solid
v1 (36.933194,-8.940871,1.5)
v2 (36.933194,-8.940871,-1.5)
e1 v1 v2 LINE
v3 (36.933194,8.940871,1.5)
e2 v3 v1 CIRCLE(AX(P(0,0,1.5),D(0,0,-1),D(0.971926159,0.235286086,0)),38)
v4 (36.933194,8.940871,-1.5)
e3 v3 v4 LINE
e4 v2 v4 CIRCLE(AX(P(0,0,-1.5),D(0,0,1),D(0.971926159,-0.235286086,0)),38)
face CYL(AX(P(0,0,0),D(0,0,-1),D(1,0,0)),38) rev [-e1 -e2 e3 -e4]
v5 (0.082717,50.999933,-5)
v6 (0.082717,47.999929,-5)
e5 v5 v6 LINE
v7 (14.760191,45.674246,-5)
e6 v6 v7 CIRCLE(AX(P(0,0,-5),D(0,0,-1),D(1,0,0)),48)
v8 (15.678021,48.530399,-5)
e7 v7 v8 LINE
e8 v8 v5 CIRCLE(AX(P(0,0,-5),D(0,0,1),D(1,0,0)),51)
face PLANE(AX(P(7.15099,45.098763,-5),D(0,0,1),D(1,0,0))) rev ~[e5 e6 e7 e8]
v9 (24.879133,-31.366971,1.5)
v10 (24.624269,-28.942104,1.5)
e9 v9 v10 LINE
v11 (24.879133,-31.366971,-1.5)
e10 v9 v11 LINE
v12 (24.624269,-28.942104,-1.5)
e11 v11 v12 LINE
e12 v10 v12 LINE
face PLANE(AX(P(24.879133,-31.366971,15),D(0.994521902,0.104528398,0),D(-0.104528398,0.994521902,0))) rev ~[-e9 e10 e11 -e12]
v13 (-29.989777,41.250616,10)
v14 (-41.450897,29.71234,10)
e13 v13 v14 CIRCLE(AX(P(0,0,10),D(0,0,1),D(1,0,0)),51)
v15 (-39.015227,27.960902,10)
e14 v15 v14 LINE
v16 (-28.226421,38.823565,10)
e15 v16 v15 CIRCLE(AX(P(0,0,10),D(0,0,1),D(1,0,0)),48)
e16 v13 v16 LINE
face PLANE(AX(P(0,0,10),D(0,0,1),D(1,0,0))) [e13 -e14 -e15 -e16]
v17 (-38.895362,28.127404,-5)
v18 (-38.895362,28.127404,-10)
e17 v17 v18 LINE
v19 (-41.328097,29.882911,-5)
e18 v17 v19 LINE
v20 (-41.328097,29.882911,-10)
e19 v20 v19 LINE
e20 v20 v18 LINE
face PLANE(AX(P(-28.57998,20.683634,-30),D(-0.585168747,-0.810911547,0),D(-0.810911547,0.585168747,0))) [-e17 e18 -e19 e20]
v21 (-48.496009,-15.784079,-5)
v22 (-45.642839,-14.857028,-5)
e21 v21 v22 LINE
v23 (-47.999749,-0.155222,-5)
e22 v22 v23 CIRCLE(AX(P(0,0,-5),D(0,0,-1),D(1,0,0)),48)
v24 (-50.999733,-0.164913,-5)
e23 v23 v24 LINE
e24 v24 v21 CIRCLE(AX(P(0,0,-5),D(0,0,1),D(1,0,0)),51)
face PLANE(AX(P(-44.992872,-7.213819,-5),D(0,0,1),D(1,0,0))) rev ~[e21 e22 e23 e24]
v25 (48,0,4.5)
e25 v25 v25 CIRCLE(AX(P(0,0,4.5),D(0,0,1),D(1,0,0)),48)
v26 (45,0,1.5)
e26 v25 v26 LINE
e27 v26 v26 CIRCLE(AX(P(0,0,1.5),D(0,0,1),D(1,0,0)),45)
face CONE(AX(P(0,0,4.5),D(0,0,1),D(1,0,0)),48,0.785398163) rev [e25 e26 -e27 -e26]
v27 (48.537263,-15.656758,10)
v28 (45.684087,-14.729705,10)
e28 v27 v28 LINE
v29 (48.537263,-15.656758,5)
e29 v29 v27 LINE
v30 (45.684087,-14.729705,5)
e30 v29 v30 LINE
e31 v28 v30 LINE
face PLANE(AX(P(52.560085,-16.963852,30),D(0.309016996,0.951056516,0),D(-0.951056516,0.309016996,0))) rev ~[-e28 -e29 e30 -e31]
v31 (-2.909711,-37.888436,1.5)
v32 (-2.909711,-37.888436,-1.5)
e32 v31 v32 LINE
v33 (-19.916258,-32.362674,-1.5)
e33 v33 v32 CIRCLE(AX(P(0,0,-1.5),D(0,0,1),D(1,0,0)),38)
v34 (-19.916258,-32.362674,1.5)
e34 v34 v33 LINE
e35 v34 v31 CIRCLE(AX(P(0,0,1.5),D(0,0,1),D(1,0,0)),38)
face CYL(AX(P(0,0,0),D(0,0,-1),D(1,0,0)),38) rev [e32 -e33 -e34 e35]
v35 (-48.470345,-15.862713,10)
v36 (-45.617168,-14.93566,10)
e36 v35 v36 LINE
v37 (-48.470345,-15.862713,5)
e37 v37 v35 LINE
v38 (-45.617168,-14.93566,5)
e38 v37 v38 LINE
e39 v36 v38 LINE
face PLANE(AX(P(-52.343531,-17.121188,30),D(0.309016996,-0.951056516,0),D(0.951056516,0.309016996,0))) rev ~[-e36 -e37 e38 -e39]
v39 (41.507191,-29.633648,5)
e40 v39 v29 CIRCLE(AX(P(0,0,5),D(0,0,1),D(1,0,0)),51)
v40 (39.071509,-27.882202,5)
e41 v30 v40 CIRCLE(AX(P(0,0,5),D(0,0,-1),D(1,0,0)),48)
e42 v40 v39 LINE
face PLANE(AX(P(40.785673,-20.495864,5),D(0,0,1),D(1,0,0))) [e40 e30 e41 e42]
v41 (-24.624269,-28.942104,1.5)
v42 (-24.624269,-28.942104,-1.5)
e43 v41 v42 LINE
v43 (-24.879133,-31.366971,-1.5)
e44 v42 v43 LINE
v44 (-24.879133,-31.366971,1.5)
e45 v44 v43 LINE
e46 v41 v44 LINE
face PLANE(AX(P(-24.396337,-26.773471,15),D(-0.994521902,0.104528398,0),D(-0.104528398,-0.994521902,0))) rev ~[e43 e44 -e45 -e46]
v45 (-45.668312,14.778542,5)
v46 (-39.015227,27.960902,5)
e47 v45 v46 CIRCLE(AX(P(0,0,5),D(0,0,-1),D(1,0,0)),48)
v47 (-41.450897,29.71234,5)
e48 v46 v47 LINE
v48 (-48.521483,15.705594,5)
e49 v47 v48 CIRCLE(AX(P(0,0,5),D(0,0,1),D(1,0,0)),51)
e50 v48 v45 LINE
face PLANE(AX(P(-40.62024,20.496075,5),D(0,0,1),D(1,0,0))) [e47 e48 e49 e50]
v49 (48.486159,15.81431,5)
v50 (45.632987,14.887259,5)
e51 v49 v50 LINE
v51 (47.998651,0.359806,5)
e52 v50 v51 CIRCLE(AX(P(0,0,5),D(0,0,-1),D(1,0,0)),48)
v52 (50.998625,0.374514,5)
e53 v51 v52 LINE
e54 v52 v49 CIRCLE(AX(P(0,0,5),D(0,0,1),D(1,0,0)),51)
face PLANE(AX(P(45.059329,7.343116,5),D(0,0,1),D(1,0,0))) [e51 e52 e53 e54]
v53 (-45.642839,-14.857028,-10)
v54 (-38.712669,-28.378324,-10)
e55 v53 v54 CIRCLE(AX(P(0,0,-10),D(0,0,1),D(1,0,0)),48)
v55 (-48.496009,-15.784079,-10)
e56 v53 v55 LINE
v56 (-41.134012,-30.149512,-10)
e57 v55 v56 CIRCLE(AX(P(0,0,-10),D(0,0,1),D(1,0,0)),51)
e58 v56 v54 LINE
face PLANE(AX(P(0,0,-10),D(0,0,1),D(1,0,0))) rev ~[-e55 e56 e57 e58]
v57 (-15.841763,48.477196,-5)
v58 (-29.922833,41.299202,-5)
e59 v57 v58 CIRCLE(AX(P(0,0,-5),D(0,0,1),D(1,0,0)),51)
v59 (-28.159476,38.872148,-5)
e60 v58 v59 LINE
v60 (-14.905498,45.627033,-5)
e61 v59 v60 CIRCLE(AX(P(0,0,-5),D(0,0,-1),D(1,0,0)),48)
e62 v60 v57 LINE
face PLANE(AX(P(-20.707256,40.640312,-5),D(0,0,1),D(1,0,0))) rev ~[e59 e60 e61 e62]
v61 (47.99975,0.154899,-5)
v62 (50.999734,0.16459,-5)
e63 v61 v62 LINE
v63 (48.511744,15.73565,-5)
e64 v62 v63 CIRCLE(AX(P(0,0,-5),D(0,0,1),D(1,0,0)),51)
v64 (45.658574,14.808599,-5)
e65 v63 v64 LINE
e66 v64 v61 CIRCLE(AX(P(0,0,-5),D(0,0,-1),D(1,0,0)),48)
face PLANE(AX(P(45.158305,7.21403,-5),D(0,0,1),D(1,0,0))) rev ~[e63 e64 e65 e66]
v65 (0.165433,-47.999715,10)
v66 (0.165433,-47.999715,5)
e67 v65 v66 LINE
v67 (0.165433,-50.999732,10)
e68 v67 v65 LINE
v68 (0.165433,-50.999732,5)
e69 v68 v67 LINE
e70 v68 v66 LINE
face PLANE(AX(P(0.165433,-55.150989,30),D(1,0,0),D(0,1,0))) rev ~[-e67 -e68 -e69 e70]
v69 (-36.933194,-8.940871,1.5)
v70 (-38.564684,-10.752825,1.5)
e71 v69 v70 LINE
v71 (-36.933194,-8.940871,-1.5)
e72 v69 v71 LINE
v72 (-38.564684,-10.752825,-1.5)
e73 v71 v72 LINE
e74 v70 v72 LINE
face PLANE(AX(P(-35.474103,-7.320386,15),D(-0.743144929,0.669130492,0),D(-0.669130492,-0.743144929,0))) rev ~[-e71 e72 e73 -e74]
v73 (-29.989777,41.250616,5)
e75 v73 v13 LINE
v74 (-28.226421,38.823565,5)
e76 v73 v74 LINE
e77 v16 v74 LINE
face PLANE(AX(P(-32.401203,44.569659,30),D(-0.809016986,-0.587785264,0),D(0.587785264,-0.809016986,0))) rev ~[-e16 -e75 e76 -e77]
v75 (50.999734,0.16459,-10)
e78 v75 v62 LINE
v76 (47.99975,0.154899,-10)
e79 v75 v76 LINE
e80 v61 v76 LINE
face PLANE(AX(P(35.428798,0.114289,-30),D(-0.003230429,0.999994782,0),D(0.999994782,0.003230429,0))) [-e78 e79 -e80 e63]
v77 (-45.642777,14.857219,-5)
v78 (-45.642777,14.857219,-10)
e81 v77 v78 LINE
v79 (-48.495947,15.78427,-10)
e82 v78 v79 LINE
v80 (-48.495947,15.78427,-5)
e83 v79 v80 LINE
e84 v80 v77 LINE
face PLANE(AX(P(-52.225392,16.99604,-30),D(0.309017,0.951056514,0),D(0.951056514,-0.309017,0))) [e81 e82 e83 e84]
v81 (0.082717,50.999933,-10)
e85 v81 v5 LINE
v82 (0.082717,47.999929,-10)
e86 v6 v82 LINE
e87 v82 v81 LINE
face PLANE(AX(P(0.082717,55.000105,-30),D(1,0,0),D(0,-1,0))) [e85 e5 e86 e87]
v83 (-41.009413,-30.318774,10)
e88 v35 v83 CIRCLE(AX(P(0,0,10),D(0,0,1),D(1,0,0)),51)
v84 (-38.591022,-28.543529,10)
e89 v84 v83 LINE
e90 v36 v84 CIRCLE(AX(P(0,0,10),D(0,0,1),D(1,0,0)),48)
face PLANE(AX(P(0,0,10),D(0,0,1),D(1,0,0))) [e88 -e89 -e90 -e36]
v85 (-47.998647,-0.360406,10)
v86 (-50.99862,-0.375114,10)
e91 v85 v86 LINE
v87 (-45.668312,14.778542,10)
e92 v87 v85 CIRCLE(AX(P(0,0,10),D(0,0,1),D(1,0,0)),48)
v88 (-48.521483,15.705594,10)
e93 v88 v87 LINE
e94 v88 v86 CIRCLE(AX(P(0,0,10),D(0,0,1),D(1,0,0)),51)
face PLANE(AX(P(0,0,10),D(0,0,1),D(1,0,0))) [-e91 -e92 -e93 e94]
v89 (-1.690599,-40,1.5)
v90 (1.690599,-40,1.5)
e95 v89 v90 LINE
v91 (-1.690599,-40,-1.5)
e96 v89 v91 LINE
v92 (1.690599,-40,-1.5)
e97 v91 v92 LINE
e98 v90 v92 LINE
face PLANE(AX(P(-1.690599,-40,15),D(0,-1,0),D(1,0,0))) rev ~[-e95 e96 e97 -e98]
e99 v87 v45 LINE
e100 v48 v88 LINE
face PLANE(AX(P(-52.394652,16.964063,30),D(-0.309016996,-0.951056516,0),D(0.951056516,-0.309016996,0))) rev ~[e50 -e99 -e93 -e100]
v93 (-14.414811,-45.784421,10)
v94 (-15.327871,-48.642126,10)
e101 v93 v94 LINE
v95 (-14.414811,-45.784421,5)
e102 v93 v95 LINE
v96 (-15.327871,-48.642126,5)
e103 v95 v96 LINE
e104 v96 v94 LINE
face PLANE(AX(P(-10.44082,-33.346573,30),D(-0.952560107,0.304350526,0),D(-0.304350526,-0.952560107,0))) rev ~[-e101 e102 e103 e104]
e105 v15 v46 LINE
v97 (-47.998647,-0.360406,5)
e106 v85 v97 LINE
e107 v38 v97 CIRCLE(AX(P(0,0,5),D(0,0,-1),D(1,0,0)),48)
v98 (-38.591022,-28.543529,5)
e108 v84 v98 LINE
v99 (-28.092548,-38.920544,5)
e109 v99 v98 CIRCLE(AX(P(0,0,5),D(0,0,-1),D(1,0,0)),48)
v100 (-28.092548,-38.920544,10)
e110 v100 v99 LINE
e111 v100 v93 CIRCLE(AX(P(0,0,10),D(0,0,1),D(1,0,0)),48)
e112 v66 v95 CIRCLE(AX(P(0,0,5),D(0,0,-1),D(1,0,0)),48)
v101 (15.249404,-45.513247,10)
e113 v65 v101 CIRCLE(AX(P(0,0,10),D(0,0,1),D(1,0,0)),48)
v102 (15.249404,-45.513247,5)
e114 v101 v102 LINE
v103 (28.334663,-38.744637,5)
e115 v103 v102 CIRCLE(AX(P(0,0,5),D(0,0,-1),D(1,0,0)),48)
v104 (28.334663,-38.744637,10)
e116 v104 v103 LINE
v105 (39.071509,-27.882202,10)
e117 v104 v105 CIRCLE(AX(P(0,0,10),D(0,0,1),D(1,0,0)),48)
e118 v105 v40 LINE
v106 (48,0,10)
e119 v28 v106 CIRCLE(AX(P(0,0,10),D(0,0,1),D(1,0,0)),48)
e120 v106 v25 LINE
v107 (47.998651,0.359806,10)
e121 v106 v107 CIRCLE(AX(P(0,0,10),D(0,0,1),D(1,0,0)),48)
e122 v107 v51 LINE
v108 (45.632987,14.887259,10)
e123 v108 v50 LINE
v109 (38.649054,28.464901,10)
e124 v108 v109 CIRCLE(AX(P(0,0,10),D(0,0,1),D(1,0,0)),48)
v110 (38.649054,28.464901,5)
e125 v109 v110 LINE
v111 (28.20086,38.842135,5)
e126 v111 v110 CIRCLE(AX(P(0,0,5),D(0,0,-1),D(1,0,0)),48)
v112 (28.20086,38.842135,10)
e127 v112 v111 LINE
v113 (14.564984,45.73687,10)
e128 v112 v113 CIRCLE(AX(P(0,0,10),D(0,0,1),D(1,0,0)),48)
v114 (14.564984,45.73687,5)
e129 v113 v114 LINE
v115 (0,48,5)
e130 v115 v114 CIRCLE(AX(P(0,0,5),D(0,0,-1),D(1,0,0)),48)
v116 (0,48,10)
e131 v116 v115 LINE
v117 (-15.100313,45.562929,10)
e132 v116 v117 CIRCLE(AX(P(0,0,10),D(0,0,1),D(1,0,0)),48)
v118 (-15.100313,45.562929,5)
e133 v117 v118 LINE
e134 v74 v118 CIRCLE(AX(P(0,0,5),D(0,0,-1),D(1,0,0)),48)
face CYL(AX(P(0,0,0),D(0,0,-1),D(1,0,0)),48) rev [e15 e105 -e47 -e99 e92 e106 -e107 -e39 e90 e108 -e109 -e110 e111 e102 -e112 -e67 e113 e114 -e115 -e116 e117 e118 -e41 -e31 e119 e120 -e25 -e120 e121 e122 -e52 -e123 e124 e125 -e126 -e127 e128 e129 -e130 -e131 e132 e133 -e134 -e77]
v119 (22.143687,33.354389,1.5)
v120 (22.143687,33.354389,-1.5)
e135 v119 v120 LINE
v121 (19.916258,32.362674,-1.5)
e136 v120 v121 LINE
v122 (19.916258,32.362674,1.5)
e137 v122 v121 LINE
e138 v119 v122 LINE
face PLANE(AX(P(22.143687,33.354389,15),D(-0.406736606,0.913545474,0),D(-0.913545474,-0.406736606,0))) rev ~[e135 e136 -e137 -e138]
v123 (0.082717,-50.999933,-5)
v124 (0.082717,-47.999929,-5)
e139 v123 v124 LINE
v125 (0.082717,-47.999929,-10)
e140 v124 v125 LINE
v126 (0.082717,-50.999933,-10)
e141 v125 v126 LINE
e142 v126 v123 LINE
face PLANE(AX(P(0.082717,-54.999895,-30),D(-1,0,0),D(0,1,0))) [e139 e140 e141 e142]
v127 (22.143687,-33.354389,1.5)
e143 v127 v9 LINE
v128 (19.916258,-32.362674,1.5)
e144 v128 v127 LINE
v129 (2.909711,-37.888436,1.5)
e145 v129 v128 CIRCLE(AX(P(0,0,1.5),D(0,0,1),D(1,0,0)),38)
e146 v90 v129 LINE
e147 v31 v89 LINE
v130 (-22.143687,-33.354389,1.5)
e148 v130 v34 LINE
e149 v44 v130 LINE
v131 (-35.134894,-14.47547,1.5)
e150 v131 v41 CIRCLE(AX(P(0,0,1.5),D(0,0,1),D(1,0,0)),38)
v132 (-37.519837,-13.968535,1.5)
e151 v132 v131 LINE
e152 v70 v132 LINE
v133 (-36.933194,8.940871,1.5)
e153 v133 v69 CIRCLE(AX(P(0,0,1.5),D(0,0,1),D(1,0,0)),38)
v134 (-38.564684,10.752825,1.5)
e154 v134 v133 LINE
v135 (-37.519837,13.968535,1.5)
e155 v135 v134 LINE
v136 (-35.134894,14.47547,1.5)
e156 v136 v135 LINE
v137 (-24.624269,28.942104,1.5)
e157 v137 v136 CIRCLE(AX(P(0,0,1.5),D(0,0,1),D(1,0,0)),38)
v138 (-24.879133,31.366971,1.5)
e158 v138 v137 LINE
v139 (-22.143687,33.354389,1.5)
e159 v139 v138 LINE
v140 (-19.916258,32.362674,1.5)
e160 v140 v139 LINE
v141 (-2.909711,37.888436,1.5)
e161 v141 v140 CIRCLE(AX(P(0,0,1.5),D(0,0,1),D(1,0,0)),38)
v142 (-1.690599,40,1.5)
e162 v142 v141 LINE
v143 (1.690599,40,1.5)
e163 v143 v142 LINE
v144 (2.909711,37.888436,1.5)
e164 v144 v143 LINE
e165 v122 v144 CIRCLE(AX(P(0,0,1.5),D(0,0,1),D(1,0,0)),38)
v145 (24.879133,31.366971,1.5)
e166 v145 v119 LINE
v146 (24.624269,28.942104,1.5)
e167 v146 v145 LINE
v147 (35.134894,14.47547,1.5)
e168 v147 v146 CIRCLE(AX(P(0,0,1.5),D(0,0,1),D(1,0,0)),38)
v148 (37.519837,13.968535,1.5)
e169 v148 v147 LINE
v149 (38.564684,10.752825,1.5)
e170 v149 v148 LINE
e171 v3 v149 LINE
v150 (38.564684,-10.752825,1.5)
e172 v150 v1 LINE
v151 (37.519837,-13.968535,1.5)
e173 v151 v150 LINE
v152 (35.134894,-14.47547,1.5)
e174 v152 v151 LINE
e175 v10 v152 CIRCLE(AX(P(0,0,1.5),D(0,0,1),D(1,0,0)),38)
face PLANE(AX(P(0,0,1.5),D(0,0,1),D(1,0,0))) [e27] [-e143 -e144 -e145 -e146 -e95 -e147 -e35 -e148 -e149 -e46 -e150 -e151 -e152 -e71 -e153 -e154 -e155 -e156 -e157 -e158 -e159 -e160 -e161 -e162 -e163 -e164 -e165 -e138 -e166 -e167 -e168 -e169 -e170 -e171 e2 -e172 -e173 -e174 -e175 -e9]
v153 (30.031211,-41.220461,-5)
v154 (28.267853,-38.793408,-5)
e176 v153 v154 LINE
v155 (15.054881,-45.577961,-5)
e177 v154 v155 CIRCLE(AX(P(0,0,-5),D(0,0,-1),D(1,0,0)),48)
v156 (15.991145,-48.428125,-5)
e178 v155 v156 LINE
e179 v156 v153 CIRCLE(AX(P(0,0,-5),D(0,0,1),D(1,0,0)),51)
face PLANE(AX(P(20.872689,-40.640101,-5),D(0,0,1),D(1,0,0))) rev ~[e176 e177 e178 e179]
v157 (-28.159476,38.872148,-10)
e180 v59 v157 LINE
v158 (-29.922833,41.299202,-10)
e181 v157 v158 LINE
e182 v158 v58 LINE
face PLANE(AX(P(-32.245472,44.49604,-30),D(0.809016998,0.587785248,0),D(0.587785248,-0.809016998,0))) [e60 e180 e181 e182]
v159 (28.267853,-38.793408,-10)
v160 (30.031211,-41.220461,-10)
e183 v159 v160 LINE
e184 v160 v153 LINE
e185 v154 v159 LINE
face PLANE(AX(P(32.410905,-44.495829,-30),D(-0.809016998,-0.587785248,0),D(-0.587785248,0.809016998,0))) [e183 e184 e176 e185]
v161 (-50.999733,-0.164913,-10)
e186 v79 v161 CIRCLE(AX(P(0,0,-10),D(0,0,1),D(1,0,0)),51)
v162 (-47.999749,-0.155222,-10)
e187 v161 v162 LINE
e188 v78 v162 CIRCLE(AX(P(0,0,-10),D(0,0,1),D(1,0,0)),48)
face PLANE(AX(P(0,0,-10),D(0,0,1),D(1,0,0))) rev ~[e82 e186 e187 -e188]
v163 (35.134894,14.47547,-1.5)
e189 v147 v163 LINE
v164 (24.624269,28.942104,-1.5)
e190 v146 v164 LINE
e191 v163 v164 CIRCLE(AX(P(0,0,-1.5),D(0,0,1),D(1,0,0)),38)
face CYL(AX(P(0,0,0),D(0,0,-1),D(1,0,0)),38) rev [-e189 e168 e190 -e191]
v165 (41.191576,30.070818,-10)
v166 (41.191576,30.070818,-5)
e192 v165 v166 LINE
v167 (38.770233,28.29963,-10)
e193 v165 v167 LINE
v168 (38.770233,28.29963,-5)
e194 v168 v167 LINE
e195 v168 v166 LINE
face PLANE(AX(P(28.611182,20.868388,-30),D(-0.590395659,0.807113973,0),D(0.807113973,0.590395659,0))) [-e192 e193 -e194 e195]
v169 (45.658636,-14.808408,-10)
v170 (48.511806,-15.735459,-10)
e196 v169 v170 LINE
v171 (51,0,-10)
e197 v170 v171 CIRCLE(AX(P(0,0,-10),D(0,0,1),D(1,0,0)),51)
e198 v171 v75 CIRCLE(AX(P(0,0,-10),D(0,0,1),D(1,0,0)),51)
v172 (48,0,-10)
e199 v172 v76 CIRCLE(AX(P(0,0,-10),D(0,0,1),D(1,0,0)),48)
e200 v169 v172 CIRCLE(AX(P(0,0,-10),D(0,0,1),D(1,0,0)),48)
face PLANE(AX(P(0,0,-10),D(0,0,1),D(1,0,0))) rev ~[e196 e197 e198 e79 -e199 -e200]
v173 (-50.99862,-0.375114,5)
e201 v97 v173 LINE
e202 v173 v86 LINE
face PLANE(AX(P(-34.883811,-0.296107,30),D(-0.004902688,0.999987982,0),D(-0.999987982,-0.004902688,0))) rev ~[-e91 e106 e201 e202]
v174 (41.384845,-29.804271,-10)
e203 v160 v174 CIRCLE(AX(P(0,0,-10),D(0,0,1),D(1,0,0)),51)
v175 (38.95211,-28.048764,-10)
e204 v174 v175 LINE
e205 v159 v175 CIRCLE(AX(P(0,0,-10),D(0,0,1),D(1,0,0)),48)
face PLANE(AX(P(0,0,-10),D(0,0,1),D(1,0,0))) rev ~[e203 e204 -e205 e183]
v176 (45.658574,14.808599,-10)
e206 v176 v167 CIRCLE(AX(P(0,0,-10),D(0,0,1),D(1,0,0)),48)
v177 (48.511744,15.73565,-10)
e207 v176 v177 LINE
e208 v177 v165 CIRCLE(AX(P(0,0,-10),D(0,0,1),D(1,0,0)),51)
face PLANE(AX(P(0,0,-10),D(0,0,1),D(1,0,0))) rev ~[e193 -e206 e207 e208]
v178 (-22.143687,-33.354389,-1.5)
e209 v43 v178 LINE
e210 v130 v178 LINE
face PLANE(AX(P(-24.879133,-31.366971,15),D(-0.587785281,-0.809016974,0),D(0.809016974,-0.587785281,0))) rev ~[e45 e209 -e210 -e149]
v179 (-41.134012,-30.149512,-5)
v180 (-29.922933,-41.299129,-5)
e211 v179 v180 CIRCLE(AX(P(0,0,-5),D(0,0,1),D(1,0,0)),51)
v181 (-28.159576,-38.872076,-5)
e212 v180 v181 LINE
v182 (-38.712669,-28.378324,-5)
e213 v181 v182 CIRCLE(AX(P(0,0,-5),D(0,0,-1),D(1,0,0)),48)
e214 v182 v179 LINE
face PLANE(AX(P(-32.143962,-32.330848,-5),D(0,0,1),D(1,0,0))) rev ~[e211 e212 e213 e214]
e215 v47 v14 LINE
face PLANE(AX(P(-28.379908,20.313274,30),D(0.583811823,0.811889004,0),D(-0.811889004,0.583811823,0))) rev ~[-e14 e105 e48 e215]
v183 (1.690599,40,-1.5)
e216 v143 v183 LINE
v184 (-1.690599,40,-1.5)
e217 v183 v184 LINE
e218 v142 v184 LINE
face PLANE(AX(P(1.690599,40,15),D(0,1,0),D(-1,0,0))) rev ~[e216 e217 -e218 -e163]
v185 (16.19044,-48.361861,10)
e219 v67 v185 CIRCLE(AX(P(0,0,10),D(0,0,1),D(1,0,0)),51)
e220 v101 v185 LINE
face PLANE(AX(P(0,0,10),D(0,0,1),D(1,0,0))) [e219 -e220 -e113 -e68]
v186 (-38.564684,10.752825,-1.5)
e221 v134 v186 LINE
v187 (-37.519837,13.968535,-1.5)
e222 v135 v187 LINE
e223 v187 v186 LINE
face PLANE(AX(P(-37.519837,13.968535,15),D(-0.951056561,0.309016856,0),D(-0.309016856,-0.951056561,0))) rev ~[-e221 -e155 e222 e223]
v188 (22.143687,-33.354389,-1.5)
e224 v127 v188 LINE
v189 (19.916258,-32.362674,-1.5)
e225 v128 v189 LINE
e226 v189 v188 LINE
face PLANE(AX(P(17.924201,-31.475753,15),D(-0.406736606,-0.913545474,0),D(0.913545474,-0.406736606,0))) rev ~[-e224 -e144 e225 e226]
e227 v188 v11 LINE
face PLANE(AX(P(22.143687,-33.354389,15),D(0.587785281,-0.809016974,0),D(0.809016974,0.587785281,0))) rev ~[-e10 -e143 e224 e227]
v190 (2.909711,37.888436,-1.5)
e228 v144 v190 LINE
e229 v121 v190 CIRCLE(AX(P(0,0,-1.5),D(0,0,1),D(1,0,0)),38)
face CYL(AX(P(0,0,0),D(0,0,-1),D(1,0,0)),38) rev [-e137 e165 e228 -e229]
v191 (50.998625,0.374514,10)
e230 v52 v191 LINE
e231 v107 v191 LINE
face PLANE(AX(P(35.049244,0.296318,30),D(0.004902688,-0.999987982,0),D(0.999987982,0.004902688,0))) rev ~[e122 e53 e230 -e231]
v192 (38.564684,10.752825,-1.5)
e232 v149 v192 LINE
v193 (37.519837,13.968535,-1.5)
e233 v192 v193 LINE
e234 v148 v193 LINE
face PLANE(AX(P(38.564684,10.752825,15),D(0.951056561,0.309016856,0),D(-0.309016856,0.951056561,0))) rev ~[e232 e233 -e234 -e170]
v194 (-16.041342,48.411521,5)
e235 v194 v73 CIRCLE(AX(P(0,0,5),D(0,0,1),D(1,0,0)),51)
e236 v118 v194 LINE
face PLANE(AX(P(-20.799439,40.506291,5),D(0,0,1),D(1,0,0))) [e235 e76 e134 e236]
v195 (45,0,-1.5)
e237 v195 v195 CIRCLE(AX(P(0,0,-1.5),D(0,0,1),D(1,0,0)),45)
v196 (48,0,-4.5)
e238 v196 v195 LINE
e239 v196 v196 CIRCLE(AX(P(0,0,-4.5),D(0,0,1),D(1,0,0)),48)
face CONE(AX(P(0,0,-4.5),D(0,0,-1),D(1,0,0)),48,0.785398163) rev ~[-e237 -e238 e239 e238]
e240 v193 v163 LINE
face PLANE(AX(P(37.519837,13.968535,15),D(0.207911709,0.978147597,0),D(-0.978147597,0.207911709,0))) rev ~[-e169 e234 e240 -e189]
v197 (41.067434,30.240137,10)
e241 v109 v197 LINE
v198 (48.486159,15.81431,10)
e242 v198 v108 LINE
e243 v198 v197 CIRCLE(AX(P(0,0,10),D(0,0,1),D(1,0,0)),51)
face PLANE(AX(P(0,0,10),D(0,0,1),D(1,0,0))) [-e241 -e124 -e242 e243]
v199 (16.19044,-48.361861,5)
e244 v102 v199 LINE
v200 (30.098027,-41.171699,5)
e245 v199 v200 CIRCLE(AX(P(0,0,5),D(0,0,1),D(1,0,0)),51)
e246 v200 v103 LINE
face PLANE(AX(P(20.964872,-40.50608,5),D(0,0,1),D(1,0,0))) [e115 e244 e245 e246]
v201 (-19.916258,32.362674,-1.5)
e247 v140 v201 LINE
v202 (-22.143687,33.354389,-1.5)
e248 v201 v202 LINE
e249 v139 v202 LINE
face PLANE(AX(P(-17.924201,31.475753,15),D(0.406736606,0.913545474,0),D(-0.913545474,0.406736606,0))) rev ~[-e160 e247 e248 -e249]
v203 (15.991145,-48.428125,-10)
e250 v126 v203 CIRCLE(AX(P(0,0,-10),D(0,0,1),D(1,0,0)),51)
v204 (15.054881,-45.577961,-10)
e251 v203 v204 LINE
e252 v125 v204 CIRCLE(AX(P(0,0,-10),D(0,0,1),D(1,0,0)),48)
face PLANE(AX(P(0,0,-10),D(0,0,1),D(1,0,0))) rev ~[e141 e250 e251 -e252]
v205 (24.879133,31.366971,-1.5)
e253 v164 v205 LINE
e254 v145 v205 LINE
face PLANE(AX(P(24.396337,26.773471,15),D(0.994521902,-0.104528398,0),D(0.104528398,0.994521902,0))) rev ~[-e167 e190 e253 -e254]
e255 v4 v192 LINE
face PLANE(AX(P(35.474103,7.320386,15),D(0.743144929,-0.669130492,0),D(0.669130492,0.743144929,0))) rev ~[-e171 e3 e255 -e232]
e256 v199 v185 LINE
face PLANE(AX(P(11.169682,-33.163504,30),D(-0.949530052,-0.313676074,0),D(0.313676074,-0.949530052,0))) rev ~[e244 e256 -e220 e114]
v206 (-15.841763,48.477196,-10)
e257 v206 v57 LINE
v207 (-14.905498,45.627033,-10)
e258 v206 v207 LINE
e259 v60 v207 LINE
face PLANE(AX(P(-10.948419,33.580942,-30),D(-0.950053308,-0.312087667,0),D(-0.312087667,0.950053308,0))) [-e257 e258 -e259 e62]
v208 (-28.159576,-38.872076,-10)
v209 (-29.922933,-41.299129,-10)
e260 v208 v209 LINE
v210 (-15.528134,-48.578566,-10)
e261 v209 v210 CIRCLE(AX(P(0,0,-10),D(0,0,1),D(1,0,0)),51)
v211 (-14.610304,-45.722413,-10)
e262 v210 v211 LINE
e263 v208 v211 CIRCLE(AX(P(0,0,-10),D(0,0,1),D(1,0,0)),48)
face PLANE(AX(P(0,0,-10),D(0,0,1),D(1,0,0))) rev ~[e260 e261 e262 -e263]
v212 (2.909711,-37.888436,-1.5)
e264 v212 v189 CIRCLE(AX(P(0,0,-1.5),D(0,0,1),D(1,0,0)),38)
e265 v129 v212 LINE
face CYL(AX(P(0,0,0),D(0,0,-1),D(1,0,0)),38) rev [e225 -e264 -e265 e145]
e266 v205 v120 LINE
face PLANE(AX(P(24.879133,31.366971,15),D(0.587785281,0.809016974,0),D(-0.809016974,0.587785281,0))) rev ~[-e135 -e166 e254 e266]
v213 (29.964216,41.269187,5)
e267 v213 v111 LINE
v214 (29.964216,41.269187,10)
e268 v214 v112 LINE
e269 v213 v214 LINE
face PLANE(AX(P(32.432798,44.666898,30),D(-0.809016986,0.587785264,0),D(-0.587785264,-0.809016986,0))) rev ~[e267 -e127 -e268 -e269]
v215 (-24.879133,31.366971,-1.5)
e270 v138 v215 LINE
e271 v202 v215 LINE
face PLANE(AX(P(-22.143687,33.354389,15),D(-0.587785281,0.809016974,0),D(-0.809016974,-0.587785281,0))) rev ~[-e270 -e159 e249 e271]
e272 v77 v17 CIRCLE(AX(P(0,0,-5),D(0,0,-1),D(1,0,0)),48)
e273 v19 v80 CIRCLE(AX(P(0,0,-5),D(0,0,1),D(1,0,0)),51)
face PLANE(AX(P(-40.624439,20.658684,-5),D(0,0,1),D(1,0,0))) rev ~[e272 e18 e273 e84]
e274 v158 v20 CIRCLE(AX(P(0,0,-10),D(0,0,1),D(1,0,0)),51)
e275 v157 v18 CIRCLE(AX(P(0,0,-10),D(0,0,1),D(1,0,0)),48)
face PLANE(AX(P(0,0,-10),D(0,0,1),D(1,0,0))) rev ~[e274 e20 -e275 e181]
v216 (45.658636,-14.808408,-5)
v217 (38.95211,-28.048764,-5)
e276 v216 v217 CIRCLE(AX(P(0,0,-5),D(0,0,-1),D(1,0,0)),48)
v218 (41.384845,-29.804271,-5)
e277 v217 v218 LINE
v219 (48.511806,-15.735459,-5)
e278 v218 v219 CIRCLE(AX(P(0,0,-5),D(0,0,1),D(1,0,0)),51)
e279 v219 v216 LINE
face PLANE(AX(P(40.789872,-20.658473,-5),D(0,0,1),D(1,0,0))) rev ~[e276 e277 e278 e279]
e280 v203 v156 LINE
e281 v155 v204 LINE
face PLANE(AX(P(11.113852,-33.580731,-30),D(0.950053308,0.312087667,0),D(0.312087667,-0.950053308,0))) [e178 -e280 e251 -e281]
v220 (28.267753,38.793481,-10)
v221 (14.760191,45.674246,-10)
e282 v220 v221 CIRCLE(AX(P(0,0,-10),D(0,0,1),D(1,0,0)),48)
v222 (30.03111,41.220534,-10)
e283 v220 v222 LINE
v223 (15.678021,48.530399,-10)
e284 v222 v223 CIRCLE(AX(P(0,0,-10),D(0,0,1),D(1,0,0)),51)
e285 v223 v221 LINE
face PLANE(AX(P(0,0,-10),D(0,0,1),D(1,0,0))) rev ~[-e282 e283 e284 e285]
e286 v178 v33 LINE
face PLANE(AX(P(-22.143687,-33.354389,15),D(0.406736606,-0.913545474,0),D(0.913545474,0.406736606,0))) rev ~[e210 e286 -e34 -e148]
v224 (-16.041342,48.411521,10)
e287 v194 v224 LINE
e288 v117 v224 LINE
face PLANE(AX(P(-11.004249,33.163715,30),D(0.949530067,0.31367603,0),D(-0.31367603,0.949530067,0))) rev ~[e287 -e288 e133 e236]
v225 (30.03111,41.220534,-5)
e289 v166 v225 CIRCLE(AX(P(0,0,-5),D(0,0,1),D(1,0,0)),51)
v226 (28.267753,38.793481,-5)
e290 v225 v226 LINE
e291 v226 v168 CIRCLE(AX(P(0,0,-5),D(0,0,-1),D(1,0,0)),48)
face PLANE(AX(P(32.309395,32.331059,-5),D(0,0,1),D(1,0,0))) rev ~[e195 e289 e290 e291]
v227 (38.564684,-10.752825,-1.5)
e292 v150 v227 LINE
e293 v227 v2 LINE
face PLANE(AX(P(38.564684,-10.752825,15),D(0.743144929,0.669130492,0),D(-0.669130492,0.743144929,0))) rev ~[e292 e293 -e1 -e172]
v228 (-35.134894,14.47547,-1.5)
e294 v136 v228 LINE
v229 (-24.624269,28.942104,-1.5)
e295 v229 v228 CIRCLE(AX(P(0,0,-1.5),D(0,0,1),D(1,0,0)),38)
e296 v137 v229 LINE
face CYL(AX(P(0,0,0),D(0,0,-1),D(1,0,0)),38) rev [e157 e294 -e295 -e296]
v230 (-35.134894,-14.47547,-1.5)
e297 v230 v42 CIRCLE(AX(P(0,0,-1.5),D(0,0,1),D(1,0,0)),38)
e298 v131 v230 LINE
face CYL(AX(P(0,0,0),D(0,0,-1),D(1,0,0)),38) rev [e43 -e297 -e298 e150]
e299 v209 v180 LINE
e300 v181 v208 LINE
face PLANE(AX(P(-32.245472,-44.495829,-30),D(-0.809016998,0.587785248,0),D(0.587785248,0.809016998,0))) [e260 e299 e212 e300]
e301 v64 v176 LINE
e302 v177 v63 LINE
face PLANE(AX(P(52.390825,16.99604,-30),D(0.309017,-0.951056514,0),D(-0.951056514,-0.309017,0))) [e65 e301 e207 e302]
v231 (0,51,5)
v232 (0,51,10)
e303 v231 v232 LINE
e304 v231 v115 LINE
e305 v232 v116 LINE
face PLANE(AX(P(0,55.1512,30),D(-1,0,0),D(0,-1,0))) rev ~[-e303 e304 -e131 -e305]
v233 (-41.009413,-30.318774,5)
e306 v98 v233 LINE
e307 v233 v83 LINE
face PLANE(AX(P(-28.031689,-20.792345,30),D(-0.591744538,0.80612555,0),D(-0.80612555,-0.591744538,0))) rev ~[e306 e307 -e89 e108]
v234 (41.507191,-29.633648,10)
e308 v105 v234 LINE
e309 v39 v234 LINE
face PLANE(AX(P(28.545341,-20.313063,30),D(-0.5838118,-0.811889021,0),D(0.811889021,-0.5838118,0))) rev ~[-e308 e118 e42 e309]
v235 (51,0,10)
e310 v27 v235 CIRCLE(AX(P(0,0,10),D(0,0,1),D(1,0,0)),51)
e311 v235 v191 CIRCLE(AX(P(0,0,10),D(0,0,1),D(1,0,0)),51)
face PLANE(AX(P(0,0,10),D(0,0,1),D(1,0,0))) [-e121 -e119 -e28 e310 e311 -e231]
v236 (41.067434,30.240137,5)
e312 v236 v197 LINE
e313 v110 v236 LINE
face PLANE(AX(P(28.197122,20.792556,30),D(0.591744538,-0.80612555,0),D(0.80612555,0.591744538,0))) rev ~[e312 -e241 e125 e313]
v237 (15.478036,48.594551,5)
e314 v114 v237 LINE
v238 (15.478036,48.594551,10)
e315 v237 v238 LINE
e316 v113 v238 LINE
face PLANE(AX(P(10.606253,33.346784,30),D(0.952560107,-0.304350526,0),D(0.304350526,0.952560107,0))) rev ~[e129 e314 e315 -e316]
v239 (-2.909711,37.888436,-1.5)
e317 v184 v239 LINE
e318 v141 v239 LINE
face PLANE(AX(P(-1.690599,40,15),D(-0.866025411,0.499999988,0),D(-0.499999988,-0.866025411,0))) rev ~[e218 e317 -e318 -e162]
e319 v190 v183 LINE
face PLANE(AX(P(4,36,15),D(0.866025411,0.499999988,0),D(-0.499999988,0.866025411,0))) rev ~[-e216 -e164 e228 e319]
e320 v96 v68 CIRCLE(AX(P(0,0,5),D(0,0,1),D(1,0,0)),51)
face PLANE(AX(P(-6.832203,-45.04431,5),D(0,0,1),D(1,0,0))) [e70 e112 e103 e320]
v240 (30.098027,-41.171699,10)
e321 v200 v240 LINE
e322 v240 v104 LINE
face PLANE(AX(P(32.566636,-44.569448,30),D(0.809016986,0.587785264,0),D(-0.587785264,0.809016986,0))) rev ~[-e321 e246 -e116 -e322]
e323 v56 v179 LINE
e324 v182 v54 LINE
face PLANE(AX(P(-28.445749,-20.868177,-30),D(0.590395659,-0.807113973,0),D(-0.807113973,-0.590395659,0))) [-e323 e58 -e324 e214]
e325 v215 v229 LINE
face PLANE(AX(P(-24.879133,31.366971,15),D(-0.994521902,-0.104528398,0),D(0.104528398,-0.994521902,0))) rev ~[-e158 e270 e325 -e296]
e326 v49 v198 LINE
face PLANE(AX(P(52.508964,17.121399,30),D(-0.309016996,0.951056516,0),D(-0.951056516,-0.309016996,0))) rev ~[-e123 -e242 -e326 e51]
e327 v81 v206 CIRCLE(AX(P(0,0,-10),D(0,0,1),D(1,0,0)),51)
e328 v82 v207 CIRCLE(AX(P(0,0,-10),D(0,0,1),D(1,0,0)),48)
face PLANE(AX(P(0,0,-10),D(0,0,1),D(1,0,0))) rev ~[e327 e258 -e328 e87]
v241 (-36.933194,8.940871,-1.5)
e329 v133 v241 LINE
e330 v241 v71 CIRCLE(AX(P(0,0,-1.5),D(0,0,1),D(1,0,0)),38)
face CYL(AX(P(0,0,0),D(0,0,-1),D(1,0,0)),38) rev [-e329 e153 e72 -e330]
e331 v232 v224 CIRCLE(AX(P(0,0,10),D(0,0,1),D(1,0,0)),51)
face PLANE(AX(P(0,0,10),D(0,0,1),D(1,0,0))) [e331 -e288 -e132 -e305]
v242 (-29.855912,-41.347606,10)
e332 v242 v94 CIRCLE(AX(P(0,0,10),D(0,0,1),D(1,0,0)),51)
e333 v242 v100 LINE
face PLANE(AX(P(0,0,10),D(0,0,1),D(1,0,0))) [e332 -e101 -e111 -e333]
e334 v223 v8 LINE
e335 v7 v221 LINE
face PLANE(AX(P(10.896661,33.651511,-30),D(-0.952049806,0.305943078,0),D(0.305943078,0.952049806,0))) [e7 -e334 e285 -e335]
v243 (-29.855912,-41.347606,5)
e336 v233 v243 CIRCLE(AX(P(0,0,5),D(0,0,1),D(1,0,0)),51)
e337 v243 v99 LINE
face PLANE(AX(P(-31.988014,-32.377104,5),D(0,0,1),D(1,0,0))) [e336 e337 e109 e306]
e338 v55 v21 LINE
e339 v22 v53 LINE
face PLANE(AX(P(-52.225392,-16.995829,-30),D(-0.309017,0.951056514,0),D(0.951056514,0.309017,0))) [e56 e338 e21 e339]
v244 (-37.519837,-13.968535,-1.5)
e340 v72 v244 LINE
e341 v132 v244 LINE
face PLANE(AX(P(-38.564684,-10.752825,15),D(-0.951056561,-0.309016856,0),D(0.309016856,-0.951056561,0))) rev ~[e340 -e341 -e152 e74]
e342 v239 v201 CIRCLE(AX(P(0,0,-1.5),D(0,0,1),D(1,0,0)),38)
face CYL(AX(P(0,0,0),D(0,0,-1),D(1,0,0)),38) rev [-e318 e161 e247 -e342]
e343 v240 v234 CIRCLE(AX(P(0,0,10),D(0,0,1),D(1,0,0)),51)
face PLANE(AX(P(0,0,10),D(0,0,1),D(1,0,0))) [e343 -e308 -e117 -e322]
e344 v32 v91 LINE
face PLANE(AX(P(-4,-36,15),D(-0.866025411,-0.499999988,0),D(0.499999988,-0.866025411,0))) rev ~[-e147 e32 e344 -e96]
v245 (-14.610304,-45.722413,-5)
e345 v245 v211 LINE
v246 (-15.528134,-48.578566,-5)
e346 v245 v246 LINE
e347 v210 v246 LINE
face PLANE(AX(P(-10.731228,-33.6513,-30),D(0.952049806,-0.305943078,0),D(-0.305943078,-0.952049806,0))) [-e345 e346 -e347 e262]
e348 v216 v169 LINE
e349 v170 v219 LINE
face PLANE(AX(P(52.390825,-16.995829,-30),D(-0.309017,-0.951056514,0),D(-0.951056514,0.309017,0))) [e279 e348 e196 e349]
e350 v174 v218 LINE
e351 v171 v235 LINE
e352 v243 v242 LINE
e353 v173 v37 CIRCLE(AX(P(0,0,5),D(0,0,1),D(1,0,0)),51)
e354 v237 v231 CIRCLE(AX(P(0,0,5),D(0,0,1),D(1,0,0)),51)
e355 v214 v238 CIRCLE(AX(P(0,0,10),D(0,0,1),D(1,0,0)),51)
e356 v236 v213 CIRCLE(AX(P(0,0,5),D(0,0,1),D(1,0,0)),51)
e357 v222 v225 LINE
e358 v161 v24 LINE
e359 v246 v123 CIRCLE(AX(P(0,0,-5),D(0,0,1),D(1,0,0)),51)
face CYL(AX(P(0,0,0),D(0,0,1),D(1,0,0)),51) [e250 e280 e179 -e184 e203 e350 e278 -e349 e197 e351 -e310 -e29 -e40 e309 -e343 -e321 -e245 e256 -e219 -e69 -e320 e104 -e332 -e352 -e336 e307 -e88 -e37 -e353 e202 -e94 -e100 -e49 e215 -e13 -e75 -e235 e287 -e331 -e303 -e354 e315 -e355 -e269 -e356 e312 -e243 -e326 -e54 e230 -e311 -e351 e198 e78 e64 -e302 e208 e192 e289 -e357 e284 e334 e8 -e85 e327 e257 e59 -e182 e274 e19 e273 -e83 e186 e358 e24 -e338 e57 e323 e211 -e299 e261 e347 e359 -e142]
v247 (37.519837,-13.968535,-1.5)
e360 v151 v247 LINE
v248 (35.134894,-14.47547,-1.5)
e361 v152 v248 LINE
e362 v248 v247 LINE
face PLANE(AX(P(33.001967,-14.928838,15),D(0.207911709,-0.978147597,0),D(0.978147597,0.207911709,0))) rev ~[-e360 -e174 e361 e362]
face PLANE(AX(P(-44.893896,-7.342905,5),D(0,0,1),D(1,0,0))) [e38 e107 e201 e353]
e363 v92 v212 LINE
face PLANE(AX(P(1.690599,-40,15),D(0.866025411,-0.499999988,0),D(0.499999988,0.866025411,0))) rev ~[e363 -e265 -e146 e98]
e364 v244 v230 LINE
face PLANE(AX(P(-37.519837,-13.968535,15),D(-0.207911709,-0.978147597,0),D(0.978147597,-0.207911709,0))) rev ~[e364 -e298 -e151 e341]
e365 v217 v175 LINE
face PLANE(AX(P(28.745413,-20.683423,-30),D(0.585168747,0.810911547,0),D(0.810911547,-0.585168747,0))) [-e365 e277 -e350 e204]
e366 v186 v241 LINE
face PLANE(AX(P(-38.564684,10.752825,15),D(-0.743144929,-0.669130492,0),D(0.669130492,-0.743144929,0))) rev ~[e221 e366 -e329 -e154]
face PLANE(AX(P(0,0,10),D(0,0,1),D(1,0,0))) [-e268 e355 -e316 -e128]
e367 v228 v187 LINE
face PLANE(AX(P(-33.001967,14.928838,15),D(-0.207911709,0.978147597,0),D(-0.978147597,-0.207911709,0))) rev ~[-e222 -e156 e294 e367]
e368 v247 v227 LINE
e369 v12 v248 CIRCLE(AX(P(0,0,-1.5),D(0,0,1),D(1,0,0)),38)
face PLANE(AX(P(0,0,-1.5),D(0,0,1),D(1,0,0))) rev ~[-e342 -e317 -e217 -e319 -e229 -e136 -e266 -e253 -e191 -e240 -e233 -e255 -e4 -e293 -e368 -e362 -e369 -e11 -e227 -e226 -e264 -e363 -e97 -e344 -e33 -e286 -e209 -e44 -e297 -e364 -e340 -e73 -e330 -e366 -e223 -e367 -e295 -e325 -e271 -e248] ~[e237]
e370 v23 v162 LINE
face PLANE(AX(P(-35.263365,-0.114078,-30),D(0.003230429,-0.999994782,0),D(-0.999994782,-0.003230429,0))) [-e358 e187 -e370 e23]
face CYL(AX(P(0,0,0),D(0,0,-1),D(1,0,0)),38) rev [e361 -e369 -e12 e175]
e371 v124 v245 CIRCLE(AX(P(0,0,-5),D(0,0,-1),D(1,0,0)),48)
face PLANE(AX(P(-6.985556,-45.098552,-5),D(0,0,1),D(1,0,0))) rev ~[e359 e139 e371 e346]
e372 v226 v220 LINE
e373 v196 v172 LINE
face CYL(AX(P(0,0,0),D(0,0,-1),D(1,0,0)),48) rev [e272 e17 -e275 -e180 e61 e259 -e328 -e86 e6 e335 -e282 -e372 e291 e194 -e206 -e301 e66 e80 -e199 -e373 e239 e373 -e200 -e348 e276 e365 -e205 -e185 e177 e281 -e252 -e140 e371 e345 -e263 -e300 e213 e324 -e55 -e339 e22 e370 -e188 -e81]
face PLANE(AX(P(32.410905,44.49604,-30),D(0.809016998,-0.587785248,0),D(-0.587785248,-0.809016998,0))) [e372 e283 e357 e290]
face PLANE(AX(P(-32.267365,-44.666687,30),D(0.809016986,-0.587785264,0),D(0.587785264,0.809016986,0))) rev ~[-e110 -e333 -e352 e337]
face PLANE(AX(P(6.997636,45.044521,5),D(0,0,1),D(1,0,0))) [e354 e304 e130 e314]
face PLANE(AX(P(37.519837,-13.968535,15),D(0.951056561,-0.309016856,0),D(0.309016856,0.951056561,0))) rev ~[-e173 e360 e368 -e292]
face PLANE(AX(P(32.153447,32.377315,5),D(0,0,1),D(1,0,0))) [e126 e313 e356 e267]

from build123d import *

# Parameters (mm, degrees)
F0_R      = 51
F0_R_2    = 48
F1_DEPTH  = 10
F0_R_3    = 38
F2_DEPTH  = 1.5
F5_DEPTH  = 25
F8_DEPTH  = 25
F11_DEPTH = 25
F12_SIZE  = 3


with BuildPart() as f1:
    # F0 (on Top) → F1 (new body, symmetric)
    with BuildSketch(Plane.XY):
        Circle(F0_R)
        Circle(F0_R_2, mode=Mode.SUBTRACT)
    extrude(amount=F1_DEPTH, both=True)

    # F0 (on Top) → F2 (join, symmetric)
    with BuildSketch(Plane.XY):
        Circle(F0_R_2)
        Circle(F0_R_3, mode=Mode.SUBTRACT)
    extrude(amount=F2_DEPTH, both=True)

    # F4 (on offset) → F5 (cut)
    with BuildSketch(Plane.XY.offset(15)):
        Polygon((-1.690599, 40), (-4, 36), (4, 36), (1.690599, 40), align=None)
        Polygon((-17.924201, 31.475753), (-22.143687, 33.354389), (-24.879133, 31.366971), (-24.396337, 26.773471), align=None)
        Polygon((-33.001967, 14.928838), (-37.519837, 13.968535), (-38.564684, 10.752825), (-35.474103, 7.320386), align=None)
        Polygon((-35.474103, -7.320386), (-38.564684, -10.752825), (-37.519837, -13.968535), (-33.001967, -14.928838), align=None)
        Polygon((-24.396337, -26.773471), (-24.879133, -31.366971), (-22.143687, -33.354389), (-17.924201, -31.475753), align=None)
        Polygon((-4, -36), (-1.690599, -40), (1.690599, -40), (4, -36), align=None)
        Polygon((17.924201, -31.475753), (22.143687, -33.354389), (24.879133, -31.366971), (24.396337, -26.773471), align=None)
        Polygon((33.001967, -14.928838), (37.519837, -13.968535), (38.564684, -10.752825), (35.474103, -7.320386), align=None)
        Polygon((35.474103, 7.320386), (38.564684, 10.752825), (37.519837, 13.968535), (33.001967, 14.928838), align=None)
        Polygon((24.396337, 26.773471), (24.879133, 31.366971), (22.143687, 33.354389), (17.924201, 31.475753), align=None)
    extrude(amount=-F5_DEPTH, mode=Mode.SUBTRACT)

    # F7 (on offset) → F8 (cut)
    with BuildSketch(Plane.XY.offset(30)):
        with BuildLine():
            Line((0, 55.1512), (0, 35.000008))
            ThreePointArc((0, 35.000008), (5.367163, 34.584221), (10.606253, 33.346784))
            Line((10.606253, 33.346784), (16.739279, 52.542006))
            ThreePointArc((16.739279, 52.542006), (8.470705, 54.494987), (0, 55.1512))
        make_face()
        with BuildLine():
            Line((-32.401203, 44.569659), (-20.556629, 28.267002))
            ThreePointArc((-20.556629, 28.267002), (-15.97011, 31.085363), (-11.004249, 33.163715))
            Line((-11.004249, 33.163715), (-17.325195, 52.297878))
            ThreePointArc((-17.325195, 52.297878), (-25.162546, 49.017727), (-32.401203, 44.569659))
        make_face()
        with BuildLine():
            Line((-52.394652, 16.964063), (-33.229729, 10.737002))
            ThreePointArc((-33.229729, 10.737002), (-31.175748, 15.712992), (-28.379908, 20.313274))
            Line((-28.379908, 20.313274), (-44.740439, 32.077778))
            ThreePointArc((-44.740439, 32.077778), (-49.152965, 24.817401), (-52.394652, 16.964063))
        make_face()
        with BuildLine():
            Line((-52.343531, -17.121188), (-33.178608, -10.894127))
            ThreePointArc((-33.178608, -10.894127), (-34.441716, -5.661167), (-34.883811, -0.296107))
            Line((-34.883811, -0.296107), (-55.034761, -0.394902))
            ThreePointArc((-55.034761, -0.394902), (-54.337027, -8.862288), (-52.343531, -17.121188))
        make_face()
        with BuildLine():
            Line((-32.267365, -44.666687), (-20.422791, -28.36403))
            ThreePointArc((-20.422791, -28.36403), (-24.520524, -24.872912), (-28.031689, -20.792345))
            Line((-28.031689, -20.792345), (-44.27608, -32.716703))
            ThreePointArc((-44.27608, -32.716703), (-38.734596, -39.156844), (-32.267365, -44.666687))
        make_face()
        with BuildLine():
            Line((0.165433, -55.150989), (0.165433, -34.999797))
            ThreePointArc((0.165433, -34.999797), (-5.20173, -34.58401), (-10.44082, -33.346573))
            Line((-10.44082, -33.346573), (-16.573846, -52.541795))
            ThreePointArc((-16.573846, -52.541795), (-8.305272, -54.494776), (0.165433, -55.150989))
        make_face()
        with BuildLine():
            Line((32.566636, -44.569448), (20.722062, -28.266791))
            ThreePointArc((20.722062, -28.266791), (16.135543, -31.085152), (11.169682, -33.163504))
            Line((11.169682, -33.163504), (17.490629, -52.297667))
            ThreePointArc((17.490629, -52.297667), (25.327979, -49.017516), (32.566636, -44.569448))
        make_face()
        with BuildLine():
            Line((52.560085, -16.963852), (33.395162, -10.736791))
            ThreePointArc((33.395162, -10.736791), (31.341182, -15.712781), (28.545341, -20.313063))
            Line((28.545341, -20.313063), (44.905873, -32.077567))
            ThreePointArc((44.905873, -32.077567), (49.318398, -24.81719), (52.560085, -16.963852))
        make_face()
        with BuildLine():
            Line((52.508964, 17.121399), (33.344041, 10.894338))
            ThreePointArc((33.344041, 10.894338), (34.607149, 5.661378), (35.049244, 0.296318))
            Line((35.049244, 0.296318), (55.200194, 0.395113))
            ThreePointArc((55.200194, 0.395113), (54.50246, 8.862499), (52.508964, 17.121399))
        make_face()
        with BuildLine():
            Line((32.432798, 44.666898), (20.588224, 28.364241))
            ThreePointArc((20.588224, 28.364241), (24.685957, 24.873123), (28.197122, 20.792556))
            Line((28.197122, 20.792556), (44.441513, 32.716914))
            ThreePointArc((44.441513, 32.716914), (38.900029, 39.157055), (32.432798, 44.666898))
        make_face()
    extrude(amount=-F8_DEPTH, mode=Mode.SUBTRACT)

    # F10 (on offset) → F11 (cut)
    with BuildSketch(Plane.XY.offset(-30)):
        with BuildLine():
            Line((0.082717, 55.000105), (0.082717, 35.346372))
            ThreePointArc((0.082717, 35.346372), (5.555695, 34.920086), (10.896661, 33.651511))
            Line((10.896661, 33.651511), (16.909585, 52.362845))
            ThreePointArc((16.909585, 52.362845), (8.598858, 54.336791), (0.082717, 55.000105))
        make_face()
        with BuildLine():
            Line((-32.245472, 44.49604), (-20.693297, 28.595835))
            ThreePointArc((-20.693297, 28.595835), (-16.015001, 31.467899), (-10.948419, 33.580942))
            Line((-10.948419, 33.580942), (-17.082107, 52.253037))
            ThreePointArc((-17.082107, 52.253037), (-24.965883, 48.965069), (-32.245472, 44.49604))
        make_face()
        with BuildLine():
            Line((-52.225392, 16.99604), (-33.53358, 10.922702))
            ThreePointArc((-33.53358, 10.922702), (-31.436915, 15.996084), (-28.57998, 20.683634))
            Line((-28.57998, 20.683634), (-44.51742, 32.184385))
            ThreePointArc((-44.51742, 32.184385), (-48.962909, 24.890396), (-52.225392, 16.99604))
        make_face()
        with BuildLine():
            Line((-52.225392, -16.995829), (-33.53358, -10.922491))
            ThreePointArc((-33.53358, -10.922491), (-34.819402, -5.585651), (-35.263365, -0.114078))
            Line((-35.263365, -0.114078), (-54.916996, -0.177568))
            ThreePointArc((-54.916996, -0.177568), (-54.226174, -8.691522), (-52.225392, -16.995829))
        make_face()
        with BuildLine():
            Line((-32.245472, -44.495829), (-20.693297, -28.595624))
            ThreePointArc((-20.693297, -28.595624), (-24.870465, -25.033816), (-28.445749, -20.868177))
            Line((-28.445749, -20.868177), (-44.308552, -32.471656))
            ThreePointArc((-44.308552, -32.471656), (-38.745288, -38.953534), (-32.245472, -44.495829))
        make_face()
        with BuildLine():
            Line((0.082717, -54.999895), (0.082717, -35.346161))
            ThreePointArc((0.082717, -35.346161), (-5.390261, -34.919875), (-10.731228, -33.6513))
            Line((-10.731228, -33.6513), (-16.744152, -52.362634))
            ThreePointArc((-16.744152, -52.362634), (-8.433425, -54.33658), (0.082717, -54.999895))
        make_face()
        with BuildLine():
            Line((32.410905, -44.495829), (20.85873, -28.595624))
            ThreePointArc((20.85873, -28.595624), (16.180434, -31.467688), (11.113852, -33.580731))
            Line((11.113852, -33.580731), (17.24754, -52.252826))
            ThreePointArc((17.24754, -52.252826), (25.131316, -48.964858), (32.410905, -44.495829))
        make_face()
        with BuildLine():
            Line((52.390825, -16.995829), (33.699013, -10.922491))
            ThreePointArc((33.699013, -10.922491), (31.602348, -15.995873), (28.745413, -20.683423))
            Line((28.745413, -20.683423), (44.682853, -32.184174))
            ThreePointArc((44.682853, -32.184174), (49.128343, -24.890185), (52.390825, -16.995829))
        make_face()
        with BuildLine():
            Line((52.390825, 16.99604), (33.699013, 10.922702))
            ThreePointArc((33.699013, 10.922702), (34.984835, 5.585862), (35.428798, 0.114289))
            Line((35.428798, 0.114289), (55.08243, 0.177779))
            ThreePointArc((55.08243, 0.177779), (54.391607, 8.691733), (52.390825, 16.99604))
        make_face()
        with BuildLine():
            Line((32.410905, 44.49604), (20.85873, 28.595835))
            ThreePointArc((20.85873, 28.595835), (25.035898, 25.034027), (28.611182, 20.868388))
            Line((28.611182, 20.868388), (44.473985, 32.471867))
            ThreePointArc((44.473985, 32.471867), (38.910722, 38.953745), (32.410905, 44.49604))
        make_face()
    extrude(amount=F11_DEPTH, mode=Mode.SUBTRACT)

    # F12
    f12_edges = [f1.edges().sort_by_distance(p)[0] for p in [
        (-48, 0, 1.5),
        (-48, 0, -1.5),
    ]]
    chamfer(f12_edges, length=F12_SIZE)


solid = f1.part
